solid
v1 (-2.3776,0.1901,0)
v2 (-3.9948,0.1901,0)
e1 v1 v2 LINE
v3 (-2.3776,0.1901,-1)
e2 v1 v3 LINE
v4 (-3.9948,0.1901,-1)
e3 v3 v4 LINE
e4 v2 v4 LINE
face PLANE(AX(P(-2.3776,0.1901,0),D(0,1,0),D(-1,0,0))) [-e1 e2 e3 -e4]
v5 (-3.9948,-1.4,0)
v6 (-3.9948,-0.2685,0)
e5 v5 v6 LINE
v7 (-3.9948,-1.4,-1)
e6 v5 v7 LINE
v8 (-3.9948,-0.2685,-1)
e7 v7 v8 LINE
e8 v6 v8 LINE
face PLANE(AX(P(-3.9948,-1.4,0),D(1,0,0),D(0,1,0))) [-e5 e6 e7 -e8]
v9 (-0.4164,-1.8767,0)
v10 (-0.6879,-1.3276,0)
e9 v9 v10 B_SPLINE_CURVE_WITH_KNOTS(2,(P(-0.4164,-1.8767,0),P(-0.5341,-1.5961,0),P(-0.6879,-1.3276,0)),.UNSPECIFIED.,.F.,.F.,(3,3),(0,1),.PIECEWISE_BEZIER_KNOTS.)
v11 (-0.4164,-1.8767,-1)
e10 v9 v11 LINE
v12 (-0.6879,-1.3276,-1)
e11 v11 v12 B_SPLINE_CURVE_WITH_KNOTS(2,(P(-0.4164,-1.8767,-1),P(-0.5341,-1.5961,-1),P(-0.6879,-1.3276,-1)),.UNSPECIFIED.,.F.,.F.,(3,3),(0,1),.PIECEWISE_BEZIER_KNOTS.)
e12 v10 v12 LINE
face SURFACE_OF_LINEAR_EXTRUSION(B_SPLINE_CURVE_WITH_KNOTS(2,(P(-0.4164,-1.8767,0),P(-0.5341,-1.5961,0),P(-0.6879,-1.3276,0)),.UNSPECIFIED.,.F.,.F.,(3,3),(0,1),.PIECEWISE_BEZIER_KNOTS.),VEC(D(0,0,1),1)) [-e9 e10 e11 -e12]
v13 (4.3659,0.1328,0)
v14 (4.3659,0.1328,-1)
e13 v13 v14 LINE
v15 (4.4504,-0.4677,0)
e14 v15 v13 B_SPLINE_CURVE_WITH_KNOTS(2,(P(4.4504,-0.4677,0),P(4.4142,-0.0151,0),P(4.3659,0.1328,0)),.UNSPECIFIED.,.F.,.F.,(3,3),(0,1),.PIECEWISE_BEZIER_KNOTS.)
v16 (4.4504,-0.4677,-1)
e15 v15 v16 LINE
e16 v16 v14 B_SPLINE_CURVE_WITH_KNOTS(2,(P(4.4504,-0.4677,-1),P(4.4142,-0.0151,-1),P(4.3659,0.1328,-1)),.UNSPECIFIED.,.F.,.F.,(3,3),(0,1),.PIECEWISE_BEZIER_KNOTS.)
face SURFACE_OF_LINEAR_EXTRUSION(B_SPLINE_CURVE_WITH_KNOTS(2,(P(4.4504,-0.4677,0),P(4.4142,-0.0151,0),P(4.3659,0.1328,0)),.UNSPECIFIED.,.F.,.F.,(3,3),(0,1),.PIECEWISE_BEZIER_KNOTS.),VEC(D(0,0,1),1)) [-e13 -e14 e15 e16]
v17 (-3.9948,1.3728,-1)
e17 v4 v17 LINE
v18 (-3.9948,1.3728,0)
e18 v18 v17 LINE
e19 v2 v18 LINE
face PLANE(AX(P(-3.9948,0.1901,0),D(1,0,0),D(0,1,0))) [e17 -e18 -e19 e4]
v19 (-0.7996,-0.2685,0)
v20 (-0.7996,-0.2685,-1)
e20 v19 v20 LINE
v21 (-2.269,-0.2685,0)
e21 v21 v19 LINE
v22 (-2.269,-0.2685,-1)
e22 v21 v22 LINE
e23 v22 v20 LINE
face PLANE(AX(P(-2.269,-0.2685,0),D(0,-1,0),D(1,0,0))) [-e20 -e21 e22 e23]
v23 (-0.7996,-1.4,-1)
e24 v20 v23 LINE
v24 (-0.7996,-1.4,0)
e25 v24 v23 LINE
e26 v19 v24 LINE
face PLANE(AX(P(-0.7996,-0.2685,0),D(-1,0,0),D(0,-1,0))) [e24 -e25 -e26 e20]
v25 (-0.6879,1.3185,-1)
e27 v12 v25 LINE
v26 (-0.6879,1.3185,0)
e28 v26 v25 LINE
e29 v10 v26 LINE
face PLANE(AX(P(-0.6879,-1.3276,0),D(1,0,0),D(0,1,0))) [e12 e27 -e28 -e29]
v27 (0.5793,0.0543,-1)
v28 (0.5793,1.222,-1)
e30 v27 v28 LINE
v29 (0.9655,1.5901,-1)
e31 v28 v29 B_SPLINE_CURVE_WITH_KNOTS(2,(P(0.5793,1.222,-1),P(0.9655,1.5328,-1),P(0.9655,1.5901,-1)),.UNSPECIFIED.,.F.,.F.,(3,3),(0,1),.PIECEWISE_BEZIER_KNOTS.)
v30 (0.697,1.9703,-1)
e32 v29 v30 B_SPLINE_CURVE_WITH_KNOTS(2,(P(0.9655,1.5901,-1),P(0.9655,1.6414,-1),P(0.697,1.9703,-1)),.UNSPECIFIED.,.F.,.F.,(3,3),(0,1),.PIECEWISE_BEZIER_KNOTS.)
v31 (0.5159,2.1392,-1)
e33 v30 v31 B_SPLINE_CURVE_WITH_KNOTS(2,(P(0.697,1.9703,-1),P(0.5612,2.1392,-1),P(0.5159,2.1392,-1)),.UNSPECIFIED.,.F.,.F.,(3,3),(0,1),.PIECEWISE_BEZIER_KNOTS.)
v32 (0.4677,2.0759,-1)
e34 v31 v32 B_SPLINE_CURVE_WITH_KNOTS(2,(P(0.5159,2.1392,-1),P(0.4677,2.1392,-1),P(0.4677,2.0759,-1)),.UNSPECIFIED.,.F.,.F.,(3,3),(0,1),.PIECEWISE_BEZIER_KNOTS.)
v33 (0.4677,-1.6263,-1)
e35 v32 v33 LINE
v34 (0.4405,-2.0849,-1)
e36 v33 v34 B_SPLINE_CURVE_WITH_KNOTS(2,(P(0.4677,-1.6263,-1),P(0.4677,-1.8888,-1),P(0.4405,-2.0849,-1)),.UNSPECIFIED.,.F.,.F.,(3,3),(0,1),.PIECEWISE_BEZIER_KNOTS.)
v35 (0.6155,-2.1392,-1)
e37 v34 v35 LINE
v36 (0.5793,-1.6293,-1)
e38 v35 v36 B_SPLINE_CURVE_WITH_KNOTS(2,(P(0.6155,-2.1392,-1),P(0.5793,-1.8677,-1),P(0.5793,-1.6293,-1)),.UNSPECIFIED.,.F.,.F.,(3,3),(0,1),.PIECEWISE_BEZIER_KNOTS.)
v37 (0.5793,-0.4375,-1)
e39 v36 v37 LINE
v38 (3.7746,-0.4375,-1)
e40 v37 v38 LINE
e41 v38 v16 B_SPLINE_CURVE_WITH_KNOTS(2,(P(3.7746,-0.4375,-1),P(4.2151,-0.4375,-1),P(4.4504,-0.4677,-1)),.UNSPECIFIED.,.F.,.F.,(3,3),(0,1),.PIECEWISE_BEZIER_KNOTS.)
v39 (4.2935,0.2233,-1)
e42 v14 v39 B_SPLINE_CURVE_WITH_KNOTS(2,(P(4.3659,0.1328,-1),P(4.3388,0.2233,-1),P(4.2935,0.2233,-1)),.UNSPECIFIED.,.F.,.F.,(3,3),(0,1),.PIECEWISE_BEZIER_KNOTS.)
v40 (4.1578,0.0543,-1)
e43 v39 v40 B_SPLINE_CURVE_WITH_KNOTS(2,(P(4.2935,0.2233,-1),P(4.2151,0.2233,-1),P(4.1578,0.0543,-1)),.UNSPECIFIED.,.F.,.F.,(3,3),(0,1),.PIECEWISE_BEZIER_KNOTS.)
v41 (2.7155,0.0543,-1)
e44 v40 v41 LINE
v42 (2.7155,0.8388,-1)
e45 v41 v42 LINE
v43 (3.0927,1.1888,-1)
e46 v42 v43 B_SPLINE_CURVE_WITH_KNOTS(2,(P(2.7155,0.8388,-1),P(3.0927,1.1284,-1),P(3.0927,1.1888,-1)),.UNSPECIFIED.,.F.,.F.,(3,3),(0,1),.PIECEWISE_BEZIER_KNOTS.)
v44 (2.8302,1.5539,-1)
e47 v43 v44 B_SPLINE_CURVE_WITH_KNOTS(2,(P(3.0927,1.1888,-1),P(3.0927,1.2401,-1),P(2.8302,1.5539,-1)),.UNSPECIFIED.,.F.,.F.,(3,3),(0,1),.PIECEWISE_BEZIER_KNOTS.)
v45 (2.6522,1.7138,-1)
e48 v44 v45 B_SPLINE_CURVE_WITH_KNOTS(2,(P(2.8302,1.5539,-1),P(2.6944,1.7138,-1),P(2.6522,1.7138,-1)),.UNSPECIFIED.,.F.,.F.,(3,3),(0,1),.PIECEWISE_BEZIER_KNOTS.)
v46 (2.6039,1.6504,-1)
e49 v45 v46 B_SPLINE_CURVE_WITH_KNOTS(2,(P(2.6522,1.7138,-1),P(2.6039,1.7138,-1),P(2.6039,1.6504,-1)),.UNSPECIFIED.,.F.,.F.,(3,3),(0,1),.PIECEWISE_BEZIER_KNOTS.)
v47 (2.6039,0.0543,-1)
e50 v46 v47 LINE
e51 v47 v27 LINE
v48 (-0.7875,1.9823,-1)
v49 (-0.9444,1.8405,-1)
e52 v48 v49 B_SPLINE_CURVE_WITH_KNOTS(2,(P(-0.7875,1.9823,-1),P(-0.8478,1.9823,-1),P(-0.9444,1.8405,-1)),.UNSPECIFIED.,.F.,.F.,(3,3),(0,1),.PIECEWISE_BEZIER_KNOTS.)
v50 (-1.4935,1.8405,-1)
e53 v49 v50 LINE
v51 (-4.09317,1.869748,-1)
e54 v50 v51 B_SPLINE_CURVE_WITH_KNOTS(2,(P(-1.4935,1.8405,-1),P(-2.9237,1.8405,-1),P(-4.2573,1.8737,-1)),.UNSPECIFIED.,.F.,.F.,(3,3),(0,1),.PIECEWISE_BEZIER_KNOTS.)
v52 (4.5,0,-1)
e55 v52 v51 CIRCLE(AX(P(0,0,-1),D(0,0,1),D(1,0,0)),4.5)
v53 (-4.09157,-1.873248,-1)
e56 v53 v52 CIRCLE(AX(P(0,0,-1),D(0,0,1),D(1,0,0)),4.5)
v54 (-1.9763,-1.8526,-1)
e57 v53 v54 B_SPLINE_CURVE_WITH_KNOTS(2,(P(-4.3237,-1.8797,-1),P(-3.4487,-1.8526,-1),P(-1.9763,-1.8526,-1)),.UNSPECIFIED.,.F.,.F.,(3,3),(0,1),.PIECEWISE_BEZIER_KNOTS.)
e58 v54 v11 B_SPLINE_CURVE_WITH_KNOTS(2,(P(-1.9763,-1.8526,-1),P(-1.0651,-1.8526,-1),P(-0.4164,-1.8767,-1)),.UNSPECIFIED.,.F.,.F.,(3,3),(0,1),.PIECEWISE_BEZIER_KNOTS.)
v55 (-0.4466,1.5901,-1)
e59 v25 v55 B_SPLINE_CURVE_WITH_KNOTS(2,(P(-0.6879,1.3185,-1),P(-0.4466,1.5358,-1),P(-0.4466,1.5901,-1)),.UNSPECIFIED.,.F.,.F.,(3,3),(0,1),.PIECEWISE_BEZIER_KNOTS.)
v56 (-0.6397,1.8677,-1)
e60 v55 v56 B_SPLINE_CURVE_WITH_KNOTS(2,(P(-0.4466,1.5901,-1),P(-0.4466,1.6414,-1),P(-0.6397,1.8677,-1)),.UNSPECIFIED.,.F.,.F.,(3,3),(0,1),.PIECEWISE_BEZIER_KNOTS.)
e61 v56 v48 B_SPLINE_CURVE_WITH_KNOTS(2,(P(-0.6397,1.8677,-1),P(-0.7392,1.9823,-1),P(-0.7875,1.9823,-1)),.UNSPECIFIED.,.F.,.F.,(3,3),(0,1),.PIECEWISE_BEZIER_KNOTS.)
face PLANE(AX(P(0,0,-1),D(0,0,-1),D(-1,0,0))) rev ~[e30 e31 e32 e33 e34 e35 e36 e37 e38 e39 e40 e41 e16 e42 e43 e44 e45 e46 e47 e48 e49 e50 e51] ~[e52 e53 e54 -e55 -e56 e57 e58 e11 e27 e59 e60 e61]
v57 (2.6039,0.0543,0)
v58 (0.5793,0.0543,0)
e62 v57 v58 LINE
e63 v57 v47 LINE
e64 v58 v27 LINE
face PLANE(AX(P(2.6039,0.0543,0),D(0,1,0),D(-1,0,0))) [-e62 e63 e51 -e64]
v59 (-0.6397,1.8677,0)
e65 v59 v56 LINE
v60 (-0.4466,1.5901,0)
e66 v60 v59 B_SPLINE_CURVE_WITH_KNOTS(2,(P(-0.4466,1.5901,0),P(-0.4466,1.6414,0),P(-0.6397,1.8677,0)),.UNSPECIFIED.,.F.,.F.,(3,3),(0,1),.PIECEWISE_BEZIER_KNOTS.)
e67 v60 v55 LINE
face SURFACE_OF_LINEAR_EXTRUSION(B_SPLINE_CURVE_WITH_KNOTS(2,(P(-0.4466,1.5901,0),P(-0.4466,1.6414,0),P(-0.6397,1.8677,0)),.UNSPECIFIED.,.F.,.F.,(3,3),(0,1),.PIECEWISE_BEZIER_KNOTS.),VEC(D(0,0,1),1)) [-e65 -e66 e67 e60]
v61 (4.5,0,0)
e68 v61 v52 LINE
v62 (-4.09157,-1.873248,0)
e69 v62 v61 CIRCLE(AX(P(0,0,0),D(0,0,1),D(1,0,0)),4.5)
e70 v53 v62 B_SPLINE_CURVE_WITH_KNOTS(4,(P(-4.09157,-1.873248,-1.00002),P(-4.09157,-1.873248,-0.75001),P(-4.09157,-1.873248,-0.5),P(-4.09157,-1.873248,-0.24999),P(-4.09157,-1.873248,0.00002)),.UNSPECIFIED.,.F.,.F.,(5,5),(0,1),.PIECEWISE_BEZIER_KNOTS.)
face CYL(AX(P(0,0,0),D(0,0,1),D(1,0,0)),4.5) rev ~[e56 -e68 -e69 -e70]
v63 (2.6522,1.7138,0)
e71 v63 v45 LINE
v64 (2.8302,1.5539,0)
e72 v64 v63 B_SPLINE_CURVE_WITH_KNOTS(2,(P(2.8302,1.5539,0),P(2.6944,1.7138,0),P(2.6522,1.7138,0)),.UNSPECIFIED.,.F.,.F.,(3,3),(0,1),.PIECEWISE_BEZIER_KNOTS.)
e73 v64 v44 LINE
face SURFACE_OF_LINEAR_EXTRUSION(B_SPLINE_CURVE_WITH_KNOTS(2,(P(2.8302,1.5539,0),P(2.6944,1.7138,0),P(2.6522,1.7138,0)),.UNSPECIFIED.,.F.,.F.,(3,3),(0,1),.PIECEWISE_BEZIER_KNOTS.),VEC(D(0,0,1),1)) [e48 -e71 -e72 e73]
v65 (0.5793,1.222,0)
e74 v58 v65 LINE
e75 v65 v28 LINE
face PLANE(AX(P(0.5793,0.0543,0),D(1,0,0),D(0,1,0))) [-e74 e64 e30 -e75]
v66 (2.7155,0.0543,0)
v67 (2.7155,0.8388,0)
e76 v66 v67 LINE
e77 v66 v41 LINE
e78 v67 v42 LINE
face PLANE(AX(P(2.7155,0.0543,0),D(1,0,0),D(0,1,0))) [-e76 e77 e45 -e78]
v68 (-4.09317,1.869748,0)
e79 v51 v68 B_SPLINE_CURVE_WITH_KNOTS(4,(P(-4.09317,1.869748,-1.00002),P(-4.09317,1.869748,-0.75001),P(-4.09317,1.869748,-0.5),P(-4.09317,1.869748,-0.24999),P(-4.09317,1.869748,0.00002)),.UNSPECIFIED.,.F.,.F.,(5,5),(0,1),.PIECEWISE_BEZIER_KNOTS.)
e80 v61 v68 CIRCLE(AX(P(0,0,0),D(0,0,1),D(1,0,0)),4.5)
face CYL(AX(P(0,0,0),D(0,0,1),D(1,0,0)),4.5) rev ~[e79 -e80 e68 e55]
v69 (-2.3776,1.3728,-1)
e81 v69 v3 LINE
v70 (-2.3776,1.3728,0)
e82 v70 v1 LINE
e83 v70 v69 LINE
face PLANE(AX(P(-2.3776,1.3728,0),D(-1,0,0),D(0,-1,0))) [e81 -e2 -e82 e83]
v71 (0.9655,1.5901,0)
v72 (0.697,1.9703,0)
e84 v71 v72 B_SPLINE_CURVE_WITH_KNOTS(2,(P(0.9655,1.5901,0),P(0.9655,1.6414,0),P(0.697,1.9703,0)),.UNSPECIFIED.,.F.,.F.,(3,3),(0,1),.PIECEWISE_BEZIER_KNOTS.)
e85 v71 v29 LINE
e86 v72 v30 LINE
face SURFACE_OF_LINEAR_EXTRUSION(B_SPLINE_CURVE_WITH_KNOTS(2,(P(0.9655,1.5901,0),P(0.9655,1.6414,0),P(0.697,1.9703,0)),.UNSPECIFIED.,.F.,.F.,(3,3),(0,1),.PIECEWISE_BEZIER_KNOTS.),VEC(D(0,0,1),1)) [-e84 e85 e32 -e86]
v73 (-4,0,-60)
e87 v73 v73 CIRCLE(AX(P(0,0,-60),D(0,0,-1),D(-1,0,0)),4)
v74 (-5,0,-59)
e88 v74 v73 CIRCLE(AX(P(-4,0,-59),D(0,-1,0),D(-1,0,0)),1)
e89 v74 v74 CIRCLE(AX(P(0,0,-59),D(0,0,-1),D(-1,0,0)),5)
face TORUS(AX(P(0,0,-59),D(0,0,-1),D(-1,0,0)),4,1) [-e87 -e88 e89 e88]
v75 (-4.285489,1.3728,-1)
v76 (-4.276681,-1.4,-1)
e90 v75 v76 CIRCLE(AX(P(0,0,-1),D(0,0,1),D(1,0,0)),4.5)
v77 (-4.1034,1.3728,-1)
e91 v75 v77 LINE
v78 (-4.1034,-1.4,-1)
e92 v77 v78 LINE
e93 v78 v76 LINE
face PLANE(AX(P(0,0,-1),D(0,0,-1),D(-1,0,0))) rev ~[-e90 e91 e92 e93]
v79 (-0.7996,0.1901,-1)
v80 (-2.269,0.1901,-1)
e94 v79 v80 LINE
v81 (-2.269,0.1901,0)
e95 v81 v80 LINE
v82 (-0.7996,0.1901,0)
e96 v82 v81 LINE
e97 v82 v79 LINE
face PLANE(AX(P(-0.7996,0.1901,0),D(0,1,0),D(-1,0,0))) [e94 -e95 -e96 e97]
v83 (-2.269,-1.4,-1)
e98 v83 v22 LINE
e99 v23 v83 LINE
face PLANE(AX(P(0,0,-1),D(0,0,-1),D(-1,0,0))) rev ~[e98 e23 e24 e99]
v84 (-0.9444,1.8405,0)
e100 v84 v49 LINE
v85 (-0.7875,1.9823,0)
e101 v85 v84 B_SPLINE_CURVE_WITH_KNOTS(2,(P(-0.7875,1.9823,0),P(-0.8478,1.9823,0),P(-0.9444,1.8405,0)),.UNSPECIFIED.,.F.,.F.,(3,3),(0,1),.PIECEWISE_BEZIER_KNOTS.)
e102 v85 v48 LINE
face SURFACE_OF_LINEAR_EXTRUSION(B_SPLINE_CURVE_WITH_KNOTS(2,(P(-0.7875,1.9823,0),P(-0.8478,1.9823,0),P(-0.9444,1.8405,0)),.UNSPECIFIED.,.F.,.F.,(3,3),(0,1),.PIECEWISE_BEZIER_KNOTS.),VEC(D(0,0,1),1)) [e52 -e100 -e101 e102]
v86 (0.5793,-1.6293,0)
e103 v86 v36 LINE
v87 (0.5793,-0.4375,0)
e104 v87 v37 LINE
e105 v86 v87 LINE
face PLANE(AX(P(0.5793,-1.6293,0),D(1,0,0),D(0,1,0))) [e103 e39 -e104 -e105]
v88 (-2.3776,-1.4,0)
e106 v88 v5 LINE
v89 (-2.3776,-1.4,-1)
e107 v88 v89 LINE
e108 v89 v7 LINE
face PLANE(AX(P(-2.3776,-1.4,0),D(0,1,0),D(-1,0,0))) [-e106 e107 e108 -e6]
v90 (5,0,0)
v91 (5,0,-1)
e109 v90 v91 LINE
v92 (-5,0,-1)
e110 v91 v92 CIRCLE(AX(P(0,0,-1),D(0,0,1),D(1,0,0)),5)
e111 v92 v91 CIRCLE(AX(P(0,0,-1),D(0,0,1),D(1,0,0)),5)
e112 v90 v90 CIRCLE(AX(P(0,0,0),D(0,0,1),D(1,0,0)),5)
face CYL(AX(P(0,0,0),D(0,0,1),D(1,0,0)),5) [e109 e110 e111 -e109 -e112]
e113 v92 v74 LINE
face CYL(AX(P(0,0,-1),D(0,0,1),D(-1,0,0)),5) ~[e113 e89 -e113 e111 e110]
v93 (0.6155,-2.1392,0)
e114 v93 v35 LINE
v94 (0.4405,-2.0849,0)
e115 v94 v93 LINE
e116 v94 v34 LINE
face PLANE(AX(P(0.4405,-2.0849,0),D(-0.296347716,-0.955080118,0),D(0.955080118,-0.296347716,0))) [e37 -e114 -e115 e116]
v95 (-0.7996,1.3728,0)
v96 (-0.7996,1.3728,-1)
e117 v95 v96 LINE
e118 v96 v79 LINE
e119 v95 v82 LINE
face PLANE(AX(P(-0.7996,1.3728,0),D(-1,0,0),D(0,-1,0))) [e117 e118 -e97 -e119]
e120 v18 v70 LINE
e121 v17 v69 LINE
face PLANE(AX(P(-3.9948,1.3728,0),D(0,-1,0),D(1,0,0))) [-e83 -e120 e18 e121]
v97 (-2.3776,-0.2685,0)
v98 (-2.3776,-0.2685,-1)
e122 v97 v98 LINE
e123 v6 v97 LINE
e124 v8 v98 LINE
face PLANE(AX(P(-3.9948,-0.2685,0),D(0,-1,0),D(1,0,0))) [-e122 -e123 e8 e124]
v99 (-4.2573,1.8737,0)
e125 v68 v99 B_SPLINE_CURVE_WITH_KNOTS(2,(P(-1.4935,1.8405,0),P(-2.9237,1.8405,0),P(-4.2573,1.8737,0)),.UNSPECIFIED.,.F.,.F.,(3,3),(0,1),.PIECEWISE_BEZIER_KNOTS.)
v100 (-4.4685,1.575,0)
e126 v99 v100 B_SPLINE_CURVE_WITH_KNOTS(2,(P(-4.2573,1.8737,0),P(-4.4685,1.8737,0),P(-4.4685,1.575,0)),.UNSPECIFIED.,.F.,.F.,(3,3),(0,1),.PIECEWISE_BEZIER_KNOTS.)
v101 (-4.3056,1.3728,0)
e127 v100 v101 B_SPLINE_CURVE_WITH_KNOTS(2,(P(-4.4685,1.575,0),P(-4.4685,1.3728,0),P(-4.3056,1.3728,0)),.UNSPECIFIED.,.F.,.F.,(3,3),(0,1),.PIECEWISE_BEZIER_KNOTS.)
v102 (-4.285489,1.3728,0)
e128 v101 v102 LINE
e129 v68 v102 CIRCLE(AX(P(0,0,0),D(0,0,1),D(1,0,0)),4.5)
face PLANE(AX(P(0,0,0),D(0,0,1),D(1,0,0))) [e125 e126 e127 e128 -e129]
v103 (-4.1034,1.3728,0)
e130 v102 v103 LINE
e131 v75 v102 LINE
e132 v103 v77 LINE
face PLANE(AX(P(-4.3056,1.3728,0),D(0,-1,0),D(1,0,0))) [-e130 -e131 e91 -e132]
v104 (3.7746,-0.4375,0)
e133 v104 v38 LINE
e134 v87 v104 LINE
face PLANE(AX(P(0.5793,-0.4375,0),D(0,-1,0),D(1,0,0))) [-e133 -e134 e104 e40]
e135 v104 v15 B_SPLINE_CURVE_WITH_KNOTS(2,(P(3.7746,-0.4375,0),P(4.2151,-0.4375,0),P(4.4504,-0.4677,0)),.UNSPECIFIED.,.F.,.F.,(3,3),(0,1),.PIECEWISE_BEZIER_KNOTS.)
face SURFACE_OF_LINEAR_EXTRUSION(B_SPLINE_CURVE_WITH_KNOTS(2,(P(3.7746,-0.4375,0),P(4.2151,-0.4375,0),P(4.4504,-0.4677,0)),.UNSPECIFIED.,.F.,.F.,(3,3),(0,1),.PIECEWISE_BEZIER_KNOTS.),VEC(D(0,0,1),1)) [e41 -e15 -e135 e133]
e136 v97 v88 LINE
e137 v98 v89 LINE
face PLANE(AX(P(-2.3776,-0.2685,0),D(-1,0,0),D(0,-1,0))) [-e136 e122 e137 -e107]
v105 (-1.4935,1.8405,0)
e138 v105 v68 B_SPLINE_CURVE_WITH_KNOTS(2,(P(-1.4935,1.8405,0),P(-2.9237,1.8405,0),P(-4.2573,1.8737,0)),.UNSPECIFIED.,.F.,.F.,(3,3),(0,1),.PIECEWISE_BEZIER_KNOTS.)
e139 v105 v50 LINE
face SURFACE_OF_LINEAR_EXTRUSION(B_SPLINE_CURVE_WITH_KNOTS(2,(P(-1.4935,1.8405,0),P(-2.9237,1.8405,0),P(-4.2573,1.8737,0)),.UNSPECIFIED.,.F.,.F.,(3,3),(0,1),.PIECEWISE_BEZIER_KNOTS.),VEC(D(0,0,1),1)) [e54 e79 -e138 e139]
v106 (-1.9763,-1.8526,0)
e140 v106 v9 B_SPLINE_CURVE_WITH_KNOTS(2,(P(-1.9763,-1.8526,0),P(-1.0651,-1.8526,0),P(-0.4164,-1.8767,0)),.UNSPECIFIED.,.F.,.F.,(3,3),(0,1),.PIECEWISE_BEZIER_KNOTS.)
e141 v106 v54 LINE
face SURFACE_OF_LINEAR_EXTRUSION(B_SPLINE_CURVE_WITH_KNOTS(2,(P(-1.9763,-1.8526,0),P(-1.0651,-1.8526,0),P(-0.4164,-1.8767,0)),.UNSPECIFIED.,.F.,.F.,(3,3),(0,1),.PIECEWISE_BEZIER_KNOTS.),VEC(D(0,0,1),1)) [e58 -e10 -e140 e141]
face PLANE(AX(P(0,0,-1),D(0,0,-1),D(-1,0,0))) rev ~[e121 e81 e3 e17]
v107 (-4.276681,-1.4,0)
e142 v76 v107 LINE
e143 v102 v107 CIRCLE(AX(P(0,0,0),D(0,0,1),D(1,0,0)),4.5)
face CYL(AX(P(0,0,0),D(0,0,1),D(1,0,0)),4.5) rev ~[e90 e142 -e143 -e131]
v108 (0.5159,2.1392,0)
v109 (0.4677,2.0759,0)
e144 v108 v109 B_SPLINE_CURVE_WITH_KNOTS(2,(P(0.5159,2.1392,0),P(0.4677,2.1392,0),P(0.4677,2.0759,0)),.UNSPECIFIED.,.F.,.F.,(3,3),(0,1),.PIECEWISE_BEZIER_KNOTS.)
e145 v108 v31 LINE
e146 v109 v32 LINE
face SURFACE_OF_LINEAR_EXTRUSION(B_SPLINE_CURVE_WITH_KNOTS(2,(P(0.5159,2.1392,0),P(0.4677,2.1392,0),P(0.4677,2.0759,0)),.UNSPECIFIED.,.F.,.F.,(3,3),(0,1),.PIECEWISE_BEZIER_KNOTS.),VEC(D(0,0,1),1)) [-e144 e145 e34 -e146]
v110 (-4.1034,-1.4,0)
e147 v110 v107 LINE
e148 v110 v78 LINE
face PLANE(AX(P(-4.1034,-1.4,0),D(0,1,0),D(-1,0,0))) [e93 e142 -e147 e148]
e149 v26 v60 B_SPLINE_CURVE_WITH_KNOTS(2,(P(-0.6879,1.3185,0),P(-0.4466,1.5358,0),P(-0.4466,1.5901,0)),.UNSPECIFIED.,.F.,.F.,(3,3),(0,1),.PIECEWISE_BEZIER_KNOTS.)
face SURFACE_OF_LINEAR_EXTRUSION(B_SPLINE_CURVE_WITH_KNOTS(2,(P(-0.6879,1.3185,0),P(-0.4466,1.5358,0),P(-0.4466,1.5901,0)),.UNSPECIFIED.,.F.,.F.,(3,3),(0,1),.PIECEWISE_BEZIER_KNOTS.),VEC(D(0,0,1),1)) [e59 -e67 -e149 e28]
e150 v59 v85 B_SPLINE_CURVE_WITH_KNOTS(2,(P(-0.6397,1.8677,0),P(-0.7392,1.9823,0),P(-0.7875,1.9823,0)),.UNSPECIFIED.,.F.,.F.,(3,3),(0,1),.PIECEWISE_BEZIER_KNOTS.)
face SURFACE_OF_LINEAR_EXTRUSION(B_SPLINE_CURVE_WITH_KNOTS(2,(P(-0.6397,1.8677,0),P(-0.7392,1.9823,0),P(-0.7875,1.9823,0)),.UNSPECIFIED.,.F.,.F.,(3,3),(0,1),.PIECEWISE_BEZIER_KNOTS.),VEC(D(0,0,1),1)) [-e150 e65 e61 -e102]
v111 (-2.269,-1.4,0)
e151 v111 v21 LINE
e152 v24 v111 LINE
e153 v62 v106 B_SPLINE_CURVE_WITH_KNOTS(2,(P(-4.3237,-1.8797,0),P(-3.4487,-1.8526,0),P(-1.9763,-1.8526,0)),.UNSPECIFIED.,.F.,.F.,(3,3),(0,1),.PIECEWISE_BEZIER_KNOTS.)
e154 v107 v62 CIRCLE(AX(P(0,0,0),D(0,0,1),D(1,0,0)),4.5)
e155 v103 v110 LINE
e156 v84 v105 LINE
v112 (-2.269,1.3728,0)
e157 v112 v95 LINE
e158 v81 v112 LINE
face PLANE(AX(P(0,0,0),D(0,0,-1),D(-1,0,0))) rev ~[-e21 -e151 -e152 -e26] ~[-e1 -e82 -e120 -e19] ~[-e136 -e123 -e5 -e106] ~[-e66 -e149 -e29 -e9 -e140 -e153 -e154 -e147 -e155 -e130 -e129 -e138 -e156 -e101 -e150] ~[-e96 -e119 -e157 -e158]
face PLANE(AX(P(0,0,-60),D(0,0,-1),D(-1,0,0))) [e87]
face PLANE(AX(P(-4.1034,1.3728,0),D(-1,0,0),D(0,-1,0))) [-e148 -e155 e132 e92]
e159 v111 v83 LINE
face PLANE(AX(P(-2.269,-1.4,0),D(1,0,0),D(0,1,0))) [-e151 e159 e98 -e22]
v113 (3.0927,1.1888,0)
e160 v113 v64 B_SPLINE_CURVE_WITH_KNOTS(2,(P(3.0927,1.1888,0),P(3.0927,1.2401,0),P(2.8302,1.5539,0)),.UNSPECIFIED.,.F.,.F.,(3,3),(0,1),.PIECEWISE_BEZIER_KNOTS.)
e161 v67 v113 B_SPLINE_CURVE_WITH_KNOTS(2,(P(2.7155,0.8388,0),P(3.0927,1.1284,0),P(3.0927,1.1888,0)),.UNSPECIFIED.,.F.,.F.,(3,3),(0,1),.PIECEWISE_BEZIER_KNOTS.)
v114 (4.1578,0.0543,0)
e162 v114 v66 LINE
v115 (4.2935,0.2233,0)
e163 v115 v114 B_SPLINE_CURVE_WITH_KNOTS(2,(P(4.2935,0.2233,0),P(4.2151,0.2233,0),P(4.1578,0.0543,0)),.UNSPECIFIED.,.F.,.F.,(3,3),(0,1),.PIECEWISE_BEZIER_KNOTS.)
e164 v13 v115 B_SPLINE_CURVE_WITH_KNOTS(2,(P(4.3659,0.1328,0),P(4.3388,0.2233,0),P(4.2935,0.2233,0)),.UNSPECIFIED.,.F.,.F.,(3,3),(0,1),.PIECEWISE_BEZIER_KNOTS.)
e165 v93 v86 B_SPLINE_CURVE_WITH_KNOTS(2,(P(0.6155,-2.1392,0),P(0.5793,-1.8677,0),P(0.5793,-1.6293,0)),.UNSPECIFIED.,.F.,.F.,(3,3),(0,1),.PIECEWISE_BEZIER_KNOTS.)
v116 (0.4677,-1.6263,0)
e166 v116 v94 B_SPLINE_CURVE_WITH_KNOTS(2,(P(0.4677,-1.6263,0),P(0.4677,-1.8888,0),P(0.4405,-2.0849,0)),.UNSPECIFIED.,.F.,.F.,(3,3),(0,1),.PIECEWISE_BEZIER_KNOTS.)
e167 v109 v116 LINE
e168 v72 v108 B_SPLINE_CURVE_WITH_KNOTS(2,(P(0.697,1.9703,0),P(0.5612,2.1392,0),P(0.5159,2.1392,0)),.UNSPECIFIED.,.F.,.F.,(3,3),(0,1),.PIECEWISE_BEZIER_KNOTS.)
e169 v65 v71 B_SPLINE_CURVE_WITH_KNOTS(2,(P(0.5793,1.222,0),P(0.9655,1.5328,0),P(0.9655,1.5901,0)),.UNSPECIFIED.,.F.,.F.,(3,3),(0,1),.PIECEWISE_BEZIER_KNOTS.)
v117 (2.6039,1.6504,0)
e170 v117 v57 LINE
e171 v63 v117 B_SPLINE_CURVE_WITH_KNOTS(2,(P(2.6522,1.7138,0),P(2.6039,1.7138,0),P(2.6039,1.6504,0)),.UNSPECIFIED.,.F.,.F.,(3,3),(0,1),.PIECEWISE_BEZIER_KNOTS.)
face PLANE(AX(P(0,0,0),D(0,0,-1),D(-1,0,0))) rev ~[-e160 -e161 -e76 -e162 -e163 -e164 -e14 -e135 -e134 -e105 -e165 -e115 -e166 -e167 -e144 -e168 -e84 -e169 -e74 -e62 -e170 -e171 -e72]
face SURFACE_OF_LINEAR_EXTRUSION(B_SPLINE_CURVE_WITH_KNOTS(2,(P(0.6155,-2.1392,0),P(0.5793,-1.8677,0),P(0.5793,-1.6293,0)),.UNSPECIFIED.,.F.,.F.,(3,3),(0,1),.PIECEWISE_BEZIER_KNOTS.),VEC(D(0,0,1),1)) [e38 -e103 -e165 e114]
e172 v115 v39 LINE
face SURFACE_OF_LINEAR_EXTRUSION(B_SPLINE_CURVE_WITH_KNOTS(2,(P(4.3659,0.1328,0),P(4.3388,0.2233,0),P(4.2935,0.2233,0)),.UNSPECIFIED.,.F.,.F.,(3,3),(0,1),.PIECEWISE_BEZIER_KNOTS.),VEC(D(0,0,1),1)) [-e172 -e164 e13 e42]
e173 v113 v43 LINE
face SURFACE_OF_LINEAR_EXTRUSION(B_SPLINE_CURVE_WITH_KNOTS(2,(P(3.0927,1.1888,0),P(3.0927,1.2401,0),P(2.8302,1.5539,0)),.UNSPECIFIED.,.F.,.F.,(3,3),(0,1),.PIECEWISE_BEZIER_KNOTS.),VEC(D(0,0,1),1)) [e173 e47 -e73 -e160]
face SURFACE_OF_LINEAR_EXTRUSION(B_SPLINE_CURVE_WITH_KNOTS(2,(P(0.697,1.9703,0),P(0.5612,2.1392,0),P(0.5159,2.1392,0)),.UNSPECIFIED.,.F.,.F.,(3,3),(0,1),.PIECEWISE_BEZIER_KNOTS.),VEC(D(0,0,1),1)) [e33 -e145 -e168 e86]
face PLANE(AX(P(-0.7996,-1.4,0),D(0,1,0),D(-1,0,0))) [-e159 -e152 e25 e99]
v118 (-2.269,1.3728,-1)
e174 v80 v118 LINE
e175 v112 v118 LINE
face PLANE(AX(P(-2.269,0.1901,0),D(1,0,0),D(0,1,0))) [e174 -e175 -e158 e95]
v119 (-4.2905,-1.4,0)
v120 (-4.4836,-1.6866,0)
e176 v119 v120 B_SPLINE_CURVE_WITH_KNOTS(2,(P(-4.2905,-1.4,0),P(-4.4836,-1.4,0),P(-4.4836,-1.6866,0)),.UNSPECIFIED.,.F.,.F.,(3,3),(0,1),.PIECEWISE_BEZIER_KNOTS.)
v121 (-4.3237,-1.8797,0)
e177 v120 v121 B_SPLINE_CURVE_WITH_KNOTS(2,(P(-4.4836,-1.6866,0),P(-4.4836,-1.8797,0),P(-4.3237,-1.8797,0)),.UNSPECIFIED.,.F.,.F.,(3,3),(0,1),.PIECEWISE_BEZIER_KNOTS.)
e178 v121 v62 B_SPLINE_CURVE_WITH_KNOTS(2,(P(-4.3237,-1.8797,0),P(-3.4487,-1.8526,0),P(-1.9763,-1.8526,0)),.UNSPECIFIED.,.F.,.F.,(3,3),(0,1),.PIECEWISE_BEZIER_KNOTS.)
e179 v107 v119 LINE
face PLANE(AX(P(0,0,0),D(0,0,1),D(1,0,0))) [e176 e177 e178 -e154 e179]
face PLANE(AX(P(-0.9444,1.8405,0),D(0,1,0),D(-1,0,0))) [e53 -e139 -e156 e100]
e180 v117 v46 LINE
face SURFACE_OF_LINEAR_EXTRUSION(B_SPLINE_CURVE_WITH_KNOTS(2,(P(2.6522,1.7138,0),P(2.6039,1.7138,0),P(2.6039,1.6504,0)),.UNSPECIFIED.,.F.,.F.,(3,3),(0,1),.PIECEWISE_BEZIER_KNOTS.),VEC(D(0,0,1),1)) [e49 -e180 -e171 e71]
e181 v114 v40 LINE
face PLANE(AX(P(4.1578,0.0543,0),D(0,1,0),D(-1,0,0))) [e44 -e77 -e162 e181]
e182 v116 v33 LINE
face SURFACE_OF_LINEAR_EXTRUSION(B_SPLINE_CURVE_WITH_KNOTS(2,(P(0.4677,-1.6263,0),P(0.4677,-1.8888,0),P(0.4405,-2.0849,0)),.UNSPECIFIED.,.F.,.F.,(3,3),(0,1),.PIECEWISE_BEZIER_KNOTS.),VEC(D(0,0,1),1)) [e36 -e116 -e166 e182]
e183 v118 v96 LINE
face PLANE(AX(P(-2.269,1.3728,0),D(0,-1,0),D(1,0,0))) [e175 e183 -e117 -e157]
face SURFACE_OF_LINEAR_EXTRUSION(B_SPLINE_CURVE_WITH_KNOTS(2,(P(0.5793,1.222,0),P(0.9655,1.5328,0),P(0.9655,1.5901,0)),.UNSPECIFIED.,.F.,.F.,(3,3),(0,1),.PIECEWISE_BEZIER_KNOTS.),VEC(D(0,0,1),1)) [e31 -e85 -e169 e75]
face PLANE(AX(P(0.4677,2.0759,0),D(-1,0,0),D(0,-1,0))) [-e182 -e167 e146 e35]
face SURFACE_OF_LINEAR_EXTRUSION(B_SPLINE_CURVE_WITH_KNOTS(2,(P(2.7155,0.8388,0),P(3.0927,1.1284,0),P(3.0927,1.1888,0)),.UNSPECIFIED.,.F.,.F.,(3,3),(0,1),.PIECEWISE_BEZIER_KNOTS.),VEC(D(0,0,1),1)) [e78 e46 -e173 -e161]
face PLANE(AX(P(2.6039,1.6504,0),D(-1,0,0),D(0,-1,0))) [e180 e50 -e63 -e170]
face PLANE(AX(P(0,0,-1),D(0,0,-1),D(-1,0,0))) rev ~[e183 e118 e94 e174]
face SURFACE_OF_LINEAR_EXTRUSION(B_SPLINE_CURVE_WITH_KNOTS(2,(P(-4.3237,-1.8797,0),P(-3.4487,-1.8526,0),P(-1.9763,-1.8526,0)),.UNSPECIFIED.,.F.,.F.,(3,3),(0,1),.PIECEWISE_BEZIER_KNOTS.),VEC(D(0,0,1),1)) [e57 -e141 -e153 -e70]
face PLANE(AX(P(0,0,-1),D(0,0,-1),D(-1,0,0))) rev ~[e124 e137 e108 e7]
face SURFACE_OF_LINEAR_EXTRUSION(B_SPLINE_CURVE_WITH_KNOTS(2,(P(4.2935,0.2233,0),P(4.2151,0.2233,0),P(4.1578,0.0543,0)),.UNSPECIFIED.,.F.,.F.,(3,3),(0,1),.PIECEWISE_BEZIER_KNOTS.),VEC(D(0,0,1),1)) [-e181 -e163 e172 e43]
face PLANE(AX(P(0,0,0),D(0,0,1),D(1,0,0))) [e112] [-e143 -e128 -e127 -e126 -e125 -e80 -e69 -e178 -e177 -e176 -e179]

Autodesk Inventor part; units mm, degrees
ref_plane "YZ Plane" through (0, 0, 0) normal (1, 0, 0) x (0, 1, 0)
ref_plane "XZ Plane" through (0, 0, 0) normal (0, 1, 0) x (-1, 0, 0)
sketch "スケッチ1" plane through (0, 0, 0) normal (0, 0, 1) x (1, 0, 0)
  circle A0 centre (0, 0) radius 5
  circle A1 centre (0, 0) radius 4.5
  dimension "d0" = 10
  dimension "d10" = 9
ref_plane "作業平面1" through (0, 0, 0) normal (0, 0, -1) x (-1, 0, 0)
sketch "スケッチ2" plane through (0, 0, 0) normal (0, 0, -1) x (-1, 0, 0)
  line L0 (-5.5874, 2.4478) -> (5.5874, 2.4478) construction
  line L1 (5.5874, 2.4478) -> (5.5874, -2.4478) construction
  line L2 (5.5874, -2.4478) -> (-5.5874, -2.4478) construction
  line L3 (-5.5874, -2.4478) -> (-5.5874, 2.4478) construction
  line L4 (5.5874, 2.4478) -> (-5.5874, -2.4478) construction
  line L5 (5.5874, -2.4478) -> (-5.5874, 2.4478) construction
  line L6 (-2.6039, 0.0543) -> (-0.5793, 0.0543)
  line L7 (-0.5793, 0.0543) -> (-0.5793, 1.222)
  spline S0 degree 2 poles (-0.5793, 1.222) (-0.9655, 1.5328) (-0.9655, 1.5901) knots 0 0 0 1 1 1
  spline S1 degree 2 poles (-0.9655, 1.5901) (-0.9655, 1.6414) (-0.697, 1.9703) knots 0 0 0 1 1 1
  spline S2 degree 2 poles (-0.697, 1.9703) (-0.5612, 2.1392) (-0.5159, 2.1392) knots 0 0 0 1 1 1
  spline S3 degree 2 poles (-0.5159, 2.1392) (-0.4677, 2.1392) (-0.4677, 2.0759) knots 0 0 0 1 1 1
  line L8 (-0.4677, 2.0759) -> (-0.4677, -1.6263)
  spline S4 degree 2 poles (-0.4677, -1.6263) (-0.4677, -1.8888) (-0.4405, -2.0849) knots 0 0 0 1 1 1
  line L9 (-0.4405, -2.0849) -> (-0.6155, -2.1392)
  spline S5 degree 2 poles (-0.6155, -2.1392) (-0.5793, -1.8677) (-0.5793, -1.6293) knots 0 0 0 1 1 1
  line L10 (-0.5793, -1.6293) -> (-0.5793, -0.4375)
  line L11 (-0.5793, -0.4375) -> (-3.7746, -0.4375)
  spline S6 degree 2 poles (-3.7746, -0.4375) (-4.2151, -0.4375) (-4.4504, -0.4677) knots 0 0 0 1 1 1
  spline S7 degree 2 poles (-4.4504, -0.4677) (-4.4142, -0.0151) (-4.3659, 0.1328) knots 0 0 0 1 1 1
  spline S8 degree 2 poles (-4.3659, 0.1328) (-4.3388, 0.2233) (-4.2935, 0.2233) knots 0 0 0 1 1 1
  spline S9 degree 2 poles (-4.2935, 0.2233) (-4.2151, 0.2233) (-4.1578, 0.0543) knots 0 0 0 1 1 1
  line L12 (-4.1578, 0.0543) -> (-2.7155, 0.0543)
  line L13 (-2.7155, 0.0543) -> (-2.7155, 0.8388)
  spline S10 degree 2 poles (-2.7155, 0.8388) (-3.0927, 1.1284) (-3.0927, 1.1888) knots 0 0 0 1 1 1
  spline S11 degree 2 poles (-3.0927, 1.1888) (-3.0927, 1.2401) (-2.8302, 1.5539) knots 0 0 0 1 1 1
  spline S12 degree 2 poles (-2.8302, 1.5539) (-2.6944, 1.7138) (-2.6522, 1.7138) knots 0 0 0 1 1 1
  spline S13 degree 2 poles (-2.6522, 1.7138) (-2.6039, 1.7138) (-2.6039, 1.6504) knots 0 0 0 1 1 1
  line L14 (-2.6039, 1.6504) -> (-2.6039, 0.0543)
  line L15 (4.1034, -1.4) -> (4.2905, -1.4)
  spline S14 degree 2 poles (4.2905, -1.4) (4.4836, -1.4) (4.4836, -1.6866) knots 0 0 0 1 1 1
  spline S15 degree 2 poles (4.4836, -1.6866) (4.4836, -1.8797) (4.3237, -1.8797) knots 0 0 0 1 1 1
  spline S16 degree 2 poles (4.3237, -1.8797) (3.4487, -1.8526) (1.9763, -1.8526) knots 0 0 0 1 1 1
  spline S17 degree 2 poles (1.9763, -1.8526) (1.0651, -1.8526) (0.4164, -1.8767) knots 0 0 0 1 1 1
  spline S18 degree 2 poles (0.4164, -1.8767) (0.5341, -1.5961) (0.6879, -1.3276) knots 0 0 0 1 1 1
  line L16 (0.6879, -1.3276) -> (0.6879, 1.3185)
  spline S19 degree 2 poles (0.6879, 1.3185) (0.4466, 1.5358) (0.4466, 1.5901) knots 0 0 0 1 1 1
  spline S20 degree 2 poles (0.4466, 1.5901) (0.4466, 1.6414) (0.6397, 1.8677) knots 0 0 0 1 1 1
  spline S21 degree 2 poles (0.6397, 1.8677) (0.7392, 1.9823) (0.7875, 1.9823) knots 0 0 0 1 1 1
  spline S22 degree 2 poles (0.7875, 1.9823) (0.8478, 1.9823) (0.9444, 1.8405) knots 0 0 0 1 1 1
  line L17 (0.9444, 1.8405) -> (1.4935, 1.8405)
  spline S23 degree 2 poles (1.4935, 1.8405) (2.9237, 1.8405) (4.2573, 1.8737) knots 0 0 0 1 1 1
  spline S24 degree 2 poles (4.2573, 1.8737) (4.4685, 1.8737) (4.4685, 1.575) knots 0 0 0 1 1 1
  spline S25 degree 2 poles (4.4685, 1.575) (4.4685, 1.3728) (4.3056, 1.3728) knots 0 0 0 1 1 1
  line L18 (4.3056, 1.3728) -> (4.1034, 1.3728)
  line L19 (4.1034, 1.3728) -> (4.1034, -1.4)
  line L20 (3.9948, 1.3728) -> (2.3776, 1.3728)
  line L21 (2.3776, 1.3728) -> (2.3776, 0.1901)
  line L22 (2.3776, 0.1901) -> (3.9948, 0.1901)
  line L23 (3.9948, 0.1901) -> (3.9948, 1.3728)
  line L24 (2.3776, -1.4) -> (3.9948, -1.4)
  line L25 (3.9948, -1.4) -> (3.9948, -0.2685)
  line L26 (3.9948, -0.2685) -> (2.3776, -0.2685)
  line L27 (2.3776, -0.2685) -> (2.3776, -1.4)
  line L28 (2.269, 1.3728) -> (0.7996, 1.3728)
  line L29 (0.7996, 1.3728) -> (0.7996, 0.1901)
  line L30 (0.7996, 0.1901) -> (2.269, 0.1901)
  line L31 (2.269, 0.1901) -> (2.269, 1.3728)
  line L32 (2.269, -1.4) -> (2.269, -0.2685)
  line L33 (2.269, -0.2685) -> (0.7996, -0.2685)
  line L34 (0.7996, -0.2685) -> (0.7996, -1.4)
  line L35 (0.7996, -1.4) -> (2.269, -1.4)
  point P0 (0, 0)
  point P1 (0, 0)
extrude "押し出し5" add sketch "スケッチ1" against normal blind 1
sketch "スケッチ3" plane through (0, 0, -1) normal (0, 0, -1) x (-1, 0, 0)
  circle A0 centre (0, 0) radius 5
extrude "押し出し6" add sketch "スケッチ3" along normal blind 59
fillet "フィレット2" radius 1 1 edges at (5, 0, -60)
extrude "押し出し9" add sketch "スケッチ2" along normal blind 1
properties part number "ueda_hanko"
